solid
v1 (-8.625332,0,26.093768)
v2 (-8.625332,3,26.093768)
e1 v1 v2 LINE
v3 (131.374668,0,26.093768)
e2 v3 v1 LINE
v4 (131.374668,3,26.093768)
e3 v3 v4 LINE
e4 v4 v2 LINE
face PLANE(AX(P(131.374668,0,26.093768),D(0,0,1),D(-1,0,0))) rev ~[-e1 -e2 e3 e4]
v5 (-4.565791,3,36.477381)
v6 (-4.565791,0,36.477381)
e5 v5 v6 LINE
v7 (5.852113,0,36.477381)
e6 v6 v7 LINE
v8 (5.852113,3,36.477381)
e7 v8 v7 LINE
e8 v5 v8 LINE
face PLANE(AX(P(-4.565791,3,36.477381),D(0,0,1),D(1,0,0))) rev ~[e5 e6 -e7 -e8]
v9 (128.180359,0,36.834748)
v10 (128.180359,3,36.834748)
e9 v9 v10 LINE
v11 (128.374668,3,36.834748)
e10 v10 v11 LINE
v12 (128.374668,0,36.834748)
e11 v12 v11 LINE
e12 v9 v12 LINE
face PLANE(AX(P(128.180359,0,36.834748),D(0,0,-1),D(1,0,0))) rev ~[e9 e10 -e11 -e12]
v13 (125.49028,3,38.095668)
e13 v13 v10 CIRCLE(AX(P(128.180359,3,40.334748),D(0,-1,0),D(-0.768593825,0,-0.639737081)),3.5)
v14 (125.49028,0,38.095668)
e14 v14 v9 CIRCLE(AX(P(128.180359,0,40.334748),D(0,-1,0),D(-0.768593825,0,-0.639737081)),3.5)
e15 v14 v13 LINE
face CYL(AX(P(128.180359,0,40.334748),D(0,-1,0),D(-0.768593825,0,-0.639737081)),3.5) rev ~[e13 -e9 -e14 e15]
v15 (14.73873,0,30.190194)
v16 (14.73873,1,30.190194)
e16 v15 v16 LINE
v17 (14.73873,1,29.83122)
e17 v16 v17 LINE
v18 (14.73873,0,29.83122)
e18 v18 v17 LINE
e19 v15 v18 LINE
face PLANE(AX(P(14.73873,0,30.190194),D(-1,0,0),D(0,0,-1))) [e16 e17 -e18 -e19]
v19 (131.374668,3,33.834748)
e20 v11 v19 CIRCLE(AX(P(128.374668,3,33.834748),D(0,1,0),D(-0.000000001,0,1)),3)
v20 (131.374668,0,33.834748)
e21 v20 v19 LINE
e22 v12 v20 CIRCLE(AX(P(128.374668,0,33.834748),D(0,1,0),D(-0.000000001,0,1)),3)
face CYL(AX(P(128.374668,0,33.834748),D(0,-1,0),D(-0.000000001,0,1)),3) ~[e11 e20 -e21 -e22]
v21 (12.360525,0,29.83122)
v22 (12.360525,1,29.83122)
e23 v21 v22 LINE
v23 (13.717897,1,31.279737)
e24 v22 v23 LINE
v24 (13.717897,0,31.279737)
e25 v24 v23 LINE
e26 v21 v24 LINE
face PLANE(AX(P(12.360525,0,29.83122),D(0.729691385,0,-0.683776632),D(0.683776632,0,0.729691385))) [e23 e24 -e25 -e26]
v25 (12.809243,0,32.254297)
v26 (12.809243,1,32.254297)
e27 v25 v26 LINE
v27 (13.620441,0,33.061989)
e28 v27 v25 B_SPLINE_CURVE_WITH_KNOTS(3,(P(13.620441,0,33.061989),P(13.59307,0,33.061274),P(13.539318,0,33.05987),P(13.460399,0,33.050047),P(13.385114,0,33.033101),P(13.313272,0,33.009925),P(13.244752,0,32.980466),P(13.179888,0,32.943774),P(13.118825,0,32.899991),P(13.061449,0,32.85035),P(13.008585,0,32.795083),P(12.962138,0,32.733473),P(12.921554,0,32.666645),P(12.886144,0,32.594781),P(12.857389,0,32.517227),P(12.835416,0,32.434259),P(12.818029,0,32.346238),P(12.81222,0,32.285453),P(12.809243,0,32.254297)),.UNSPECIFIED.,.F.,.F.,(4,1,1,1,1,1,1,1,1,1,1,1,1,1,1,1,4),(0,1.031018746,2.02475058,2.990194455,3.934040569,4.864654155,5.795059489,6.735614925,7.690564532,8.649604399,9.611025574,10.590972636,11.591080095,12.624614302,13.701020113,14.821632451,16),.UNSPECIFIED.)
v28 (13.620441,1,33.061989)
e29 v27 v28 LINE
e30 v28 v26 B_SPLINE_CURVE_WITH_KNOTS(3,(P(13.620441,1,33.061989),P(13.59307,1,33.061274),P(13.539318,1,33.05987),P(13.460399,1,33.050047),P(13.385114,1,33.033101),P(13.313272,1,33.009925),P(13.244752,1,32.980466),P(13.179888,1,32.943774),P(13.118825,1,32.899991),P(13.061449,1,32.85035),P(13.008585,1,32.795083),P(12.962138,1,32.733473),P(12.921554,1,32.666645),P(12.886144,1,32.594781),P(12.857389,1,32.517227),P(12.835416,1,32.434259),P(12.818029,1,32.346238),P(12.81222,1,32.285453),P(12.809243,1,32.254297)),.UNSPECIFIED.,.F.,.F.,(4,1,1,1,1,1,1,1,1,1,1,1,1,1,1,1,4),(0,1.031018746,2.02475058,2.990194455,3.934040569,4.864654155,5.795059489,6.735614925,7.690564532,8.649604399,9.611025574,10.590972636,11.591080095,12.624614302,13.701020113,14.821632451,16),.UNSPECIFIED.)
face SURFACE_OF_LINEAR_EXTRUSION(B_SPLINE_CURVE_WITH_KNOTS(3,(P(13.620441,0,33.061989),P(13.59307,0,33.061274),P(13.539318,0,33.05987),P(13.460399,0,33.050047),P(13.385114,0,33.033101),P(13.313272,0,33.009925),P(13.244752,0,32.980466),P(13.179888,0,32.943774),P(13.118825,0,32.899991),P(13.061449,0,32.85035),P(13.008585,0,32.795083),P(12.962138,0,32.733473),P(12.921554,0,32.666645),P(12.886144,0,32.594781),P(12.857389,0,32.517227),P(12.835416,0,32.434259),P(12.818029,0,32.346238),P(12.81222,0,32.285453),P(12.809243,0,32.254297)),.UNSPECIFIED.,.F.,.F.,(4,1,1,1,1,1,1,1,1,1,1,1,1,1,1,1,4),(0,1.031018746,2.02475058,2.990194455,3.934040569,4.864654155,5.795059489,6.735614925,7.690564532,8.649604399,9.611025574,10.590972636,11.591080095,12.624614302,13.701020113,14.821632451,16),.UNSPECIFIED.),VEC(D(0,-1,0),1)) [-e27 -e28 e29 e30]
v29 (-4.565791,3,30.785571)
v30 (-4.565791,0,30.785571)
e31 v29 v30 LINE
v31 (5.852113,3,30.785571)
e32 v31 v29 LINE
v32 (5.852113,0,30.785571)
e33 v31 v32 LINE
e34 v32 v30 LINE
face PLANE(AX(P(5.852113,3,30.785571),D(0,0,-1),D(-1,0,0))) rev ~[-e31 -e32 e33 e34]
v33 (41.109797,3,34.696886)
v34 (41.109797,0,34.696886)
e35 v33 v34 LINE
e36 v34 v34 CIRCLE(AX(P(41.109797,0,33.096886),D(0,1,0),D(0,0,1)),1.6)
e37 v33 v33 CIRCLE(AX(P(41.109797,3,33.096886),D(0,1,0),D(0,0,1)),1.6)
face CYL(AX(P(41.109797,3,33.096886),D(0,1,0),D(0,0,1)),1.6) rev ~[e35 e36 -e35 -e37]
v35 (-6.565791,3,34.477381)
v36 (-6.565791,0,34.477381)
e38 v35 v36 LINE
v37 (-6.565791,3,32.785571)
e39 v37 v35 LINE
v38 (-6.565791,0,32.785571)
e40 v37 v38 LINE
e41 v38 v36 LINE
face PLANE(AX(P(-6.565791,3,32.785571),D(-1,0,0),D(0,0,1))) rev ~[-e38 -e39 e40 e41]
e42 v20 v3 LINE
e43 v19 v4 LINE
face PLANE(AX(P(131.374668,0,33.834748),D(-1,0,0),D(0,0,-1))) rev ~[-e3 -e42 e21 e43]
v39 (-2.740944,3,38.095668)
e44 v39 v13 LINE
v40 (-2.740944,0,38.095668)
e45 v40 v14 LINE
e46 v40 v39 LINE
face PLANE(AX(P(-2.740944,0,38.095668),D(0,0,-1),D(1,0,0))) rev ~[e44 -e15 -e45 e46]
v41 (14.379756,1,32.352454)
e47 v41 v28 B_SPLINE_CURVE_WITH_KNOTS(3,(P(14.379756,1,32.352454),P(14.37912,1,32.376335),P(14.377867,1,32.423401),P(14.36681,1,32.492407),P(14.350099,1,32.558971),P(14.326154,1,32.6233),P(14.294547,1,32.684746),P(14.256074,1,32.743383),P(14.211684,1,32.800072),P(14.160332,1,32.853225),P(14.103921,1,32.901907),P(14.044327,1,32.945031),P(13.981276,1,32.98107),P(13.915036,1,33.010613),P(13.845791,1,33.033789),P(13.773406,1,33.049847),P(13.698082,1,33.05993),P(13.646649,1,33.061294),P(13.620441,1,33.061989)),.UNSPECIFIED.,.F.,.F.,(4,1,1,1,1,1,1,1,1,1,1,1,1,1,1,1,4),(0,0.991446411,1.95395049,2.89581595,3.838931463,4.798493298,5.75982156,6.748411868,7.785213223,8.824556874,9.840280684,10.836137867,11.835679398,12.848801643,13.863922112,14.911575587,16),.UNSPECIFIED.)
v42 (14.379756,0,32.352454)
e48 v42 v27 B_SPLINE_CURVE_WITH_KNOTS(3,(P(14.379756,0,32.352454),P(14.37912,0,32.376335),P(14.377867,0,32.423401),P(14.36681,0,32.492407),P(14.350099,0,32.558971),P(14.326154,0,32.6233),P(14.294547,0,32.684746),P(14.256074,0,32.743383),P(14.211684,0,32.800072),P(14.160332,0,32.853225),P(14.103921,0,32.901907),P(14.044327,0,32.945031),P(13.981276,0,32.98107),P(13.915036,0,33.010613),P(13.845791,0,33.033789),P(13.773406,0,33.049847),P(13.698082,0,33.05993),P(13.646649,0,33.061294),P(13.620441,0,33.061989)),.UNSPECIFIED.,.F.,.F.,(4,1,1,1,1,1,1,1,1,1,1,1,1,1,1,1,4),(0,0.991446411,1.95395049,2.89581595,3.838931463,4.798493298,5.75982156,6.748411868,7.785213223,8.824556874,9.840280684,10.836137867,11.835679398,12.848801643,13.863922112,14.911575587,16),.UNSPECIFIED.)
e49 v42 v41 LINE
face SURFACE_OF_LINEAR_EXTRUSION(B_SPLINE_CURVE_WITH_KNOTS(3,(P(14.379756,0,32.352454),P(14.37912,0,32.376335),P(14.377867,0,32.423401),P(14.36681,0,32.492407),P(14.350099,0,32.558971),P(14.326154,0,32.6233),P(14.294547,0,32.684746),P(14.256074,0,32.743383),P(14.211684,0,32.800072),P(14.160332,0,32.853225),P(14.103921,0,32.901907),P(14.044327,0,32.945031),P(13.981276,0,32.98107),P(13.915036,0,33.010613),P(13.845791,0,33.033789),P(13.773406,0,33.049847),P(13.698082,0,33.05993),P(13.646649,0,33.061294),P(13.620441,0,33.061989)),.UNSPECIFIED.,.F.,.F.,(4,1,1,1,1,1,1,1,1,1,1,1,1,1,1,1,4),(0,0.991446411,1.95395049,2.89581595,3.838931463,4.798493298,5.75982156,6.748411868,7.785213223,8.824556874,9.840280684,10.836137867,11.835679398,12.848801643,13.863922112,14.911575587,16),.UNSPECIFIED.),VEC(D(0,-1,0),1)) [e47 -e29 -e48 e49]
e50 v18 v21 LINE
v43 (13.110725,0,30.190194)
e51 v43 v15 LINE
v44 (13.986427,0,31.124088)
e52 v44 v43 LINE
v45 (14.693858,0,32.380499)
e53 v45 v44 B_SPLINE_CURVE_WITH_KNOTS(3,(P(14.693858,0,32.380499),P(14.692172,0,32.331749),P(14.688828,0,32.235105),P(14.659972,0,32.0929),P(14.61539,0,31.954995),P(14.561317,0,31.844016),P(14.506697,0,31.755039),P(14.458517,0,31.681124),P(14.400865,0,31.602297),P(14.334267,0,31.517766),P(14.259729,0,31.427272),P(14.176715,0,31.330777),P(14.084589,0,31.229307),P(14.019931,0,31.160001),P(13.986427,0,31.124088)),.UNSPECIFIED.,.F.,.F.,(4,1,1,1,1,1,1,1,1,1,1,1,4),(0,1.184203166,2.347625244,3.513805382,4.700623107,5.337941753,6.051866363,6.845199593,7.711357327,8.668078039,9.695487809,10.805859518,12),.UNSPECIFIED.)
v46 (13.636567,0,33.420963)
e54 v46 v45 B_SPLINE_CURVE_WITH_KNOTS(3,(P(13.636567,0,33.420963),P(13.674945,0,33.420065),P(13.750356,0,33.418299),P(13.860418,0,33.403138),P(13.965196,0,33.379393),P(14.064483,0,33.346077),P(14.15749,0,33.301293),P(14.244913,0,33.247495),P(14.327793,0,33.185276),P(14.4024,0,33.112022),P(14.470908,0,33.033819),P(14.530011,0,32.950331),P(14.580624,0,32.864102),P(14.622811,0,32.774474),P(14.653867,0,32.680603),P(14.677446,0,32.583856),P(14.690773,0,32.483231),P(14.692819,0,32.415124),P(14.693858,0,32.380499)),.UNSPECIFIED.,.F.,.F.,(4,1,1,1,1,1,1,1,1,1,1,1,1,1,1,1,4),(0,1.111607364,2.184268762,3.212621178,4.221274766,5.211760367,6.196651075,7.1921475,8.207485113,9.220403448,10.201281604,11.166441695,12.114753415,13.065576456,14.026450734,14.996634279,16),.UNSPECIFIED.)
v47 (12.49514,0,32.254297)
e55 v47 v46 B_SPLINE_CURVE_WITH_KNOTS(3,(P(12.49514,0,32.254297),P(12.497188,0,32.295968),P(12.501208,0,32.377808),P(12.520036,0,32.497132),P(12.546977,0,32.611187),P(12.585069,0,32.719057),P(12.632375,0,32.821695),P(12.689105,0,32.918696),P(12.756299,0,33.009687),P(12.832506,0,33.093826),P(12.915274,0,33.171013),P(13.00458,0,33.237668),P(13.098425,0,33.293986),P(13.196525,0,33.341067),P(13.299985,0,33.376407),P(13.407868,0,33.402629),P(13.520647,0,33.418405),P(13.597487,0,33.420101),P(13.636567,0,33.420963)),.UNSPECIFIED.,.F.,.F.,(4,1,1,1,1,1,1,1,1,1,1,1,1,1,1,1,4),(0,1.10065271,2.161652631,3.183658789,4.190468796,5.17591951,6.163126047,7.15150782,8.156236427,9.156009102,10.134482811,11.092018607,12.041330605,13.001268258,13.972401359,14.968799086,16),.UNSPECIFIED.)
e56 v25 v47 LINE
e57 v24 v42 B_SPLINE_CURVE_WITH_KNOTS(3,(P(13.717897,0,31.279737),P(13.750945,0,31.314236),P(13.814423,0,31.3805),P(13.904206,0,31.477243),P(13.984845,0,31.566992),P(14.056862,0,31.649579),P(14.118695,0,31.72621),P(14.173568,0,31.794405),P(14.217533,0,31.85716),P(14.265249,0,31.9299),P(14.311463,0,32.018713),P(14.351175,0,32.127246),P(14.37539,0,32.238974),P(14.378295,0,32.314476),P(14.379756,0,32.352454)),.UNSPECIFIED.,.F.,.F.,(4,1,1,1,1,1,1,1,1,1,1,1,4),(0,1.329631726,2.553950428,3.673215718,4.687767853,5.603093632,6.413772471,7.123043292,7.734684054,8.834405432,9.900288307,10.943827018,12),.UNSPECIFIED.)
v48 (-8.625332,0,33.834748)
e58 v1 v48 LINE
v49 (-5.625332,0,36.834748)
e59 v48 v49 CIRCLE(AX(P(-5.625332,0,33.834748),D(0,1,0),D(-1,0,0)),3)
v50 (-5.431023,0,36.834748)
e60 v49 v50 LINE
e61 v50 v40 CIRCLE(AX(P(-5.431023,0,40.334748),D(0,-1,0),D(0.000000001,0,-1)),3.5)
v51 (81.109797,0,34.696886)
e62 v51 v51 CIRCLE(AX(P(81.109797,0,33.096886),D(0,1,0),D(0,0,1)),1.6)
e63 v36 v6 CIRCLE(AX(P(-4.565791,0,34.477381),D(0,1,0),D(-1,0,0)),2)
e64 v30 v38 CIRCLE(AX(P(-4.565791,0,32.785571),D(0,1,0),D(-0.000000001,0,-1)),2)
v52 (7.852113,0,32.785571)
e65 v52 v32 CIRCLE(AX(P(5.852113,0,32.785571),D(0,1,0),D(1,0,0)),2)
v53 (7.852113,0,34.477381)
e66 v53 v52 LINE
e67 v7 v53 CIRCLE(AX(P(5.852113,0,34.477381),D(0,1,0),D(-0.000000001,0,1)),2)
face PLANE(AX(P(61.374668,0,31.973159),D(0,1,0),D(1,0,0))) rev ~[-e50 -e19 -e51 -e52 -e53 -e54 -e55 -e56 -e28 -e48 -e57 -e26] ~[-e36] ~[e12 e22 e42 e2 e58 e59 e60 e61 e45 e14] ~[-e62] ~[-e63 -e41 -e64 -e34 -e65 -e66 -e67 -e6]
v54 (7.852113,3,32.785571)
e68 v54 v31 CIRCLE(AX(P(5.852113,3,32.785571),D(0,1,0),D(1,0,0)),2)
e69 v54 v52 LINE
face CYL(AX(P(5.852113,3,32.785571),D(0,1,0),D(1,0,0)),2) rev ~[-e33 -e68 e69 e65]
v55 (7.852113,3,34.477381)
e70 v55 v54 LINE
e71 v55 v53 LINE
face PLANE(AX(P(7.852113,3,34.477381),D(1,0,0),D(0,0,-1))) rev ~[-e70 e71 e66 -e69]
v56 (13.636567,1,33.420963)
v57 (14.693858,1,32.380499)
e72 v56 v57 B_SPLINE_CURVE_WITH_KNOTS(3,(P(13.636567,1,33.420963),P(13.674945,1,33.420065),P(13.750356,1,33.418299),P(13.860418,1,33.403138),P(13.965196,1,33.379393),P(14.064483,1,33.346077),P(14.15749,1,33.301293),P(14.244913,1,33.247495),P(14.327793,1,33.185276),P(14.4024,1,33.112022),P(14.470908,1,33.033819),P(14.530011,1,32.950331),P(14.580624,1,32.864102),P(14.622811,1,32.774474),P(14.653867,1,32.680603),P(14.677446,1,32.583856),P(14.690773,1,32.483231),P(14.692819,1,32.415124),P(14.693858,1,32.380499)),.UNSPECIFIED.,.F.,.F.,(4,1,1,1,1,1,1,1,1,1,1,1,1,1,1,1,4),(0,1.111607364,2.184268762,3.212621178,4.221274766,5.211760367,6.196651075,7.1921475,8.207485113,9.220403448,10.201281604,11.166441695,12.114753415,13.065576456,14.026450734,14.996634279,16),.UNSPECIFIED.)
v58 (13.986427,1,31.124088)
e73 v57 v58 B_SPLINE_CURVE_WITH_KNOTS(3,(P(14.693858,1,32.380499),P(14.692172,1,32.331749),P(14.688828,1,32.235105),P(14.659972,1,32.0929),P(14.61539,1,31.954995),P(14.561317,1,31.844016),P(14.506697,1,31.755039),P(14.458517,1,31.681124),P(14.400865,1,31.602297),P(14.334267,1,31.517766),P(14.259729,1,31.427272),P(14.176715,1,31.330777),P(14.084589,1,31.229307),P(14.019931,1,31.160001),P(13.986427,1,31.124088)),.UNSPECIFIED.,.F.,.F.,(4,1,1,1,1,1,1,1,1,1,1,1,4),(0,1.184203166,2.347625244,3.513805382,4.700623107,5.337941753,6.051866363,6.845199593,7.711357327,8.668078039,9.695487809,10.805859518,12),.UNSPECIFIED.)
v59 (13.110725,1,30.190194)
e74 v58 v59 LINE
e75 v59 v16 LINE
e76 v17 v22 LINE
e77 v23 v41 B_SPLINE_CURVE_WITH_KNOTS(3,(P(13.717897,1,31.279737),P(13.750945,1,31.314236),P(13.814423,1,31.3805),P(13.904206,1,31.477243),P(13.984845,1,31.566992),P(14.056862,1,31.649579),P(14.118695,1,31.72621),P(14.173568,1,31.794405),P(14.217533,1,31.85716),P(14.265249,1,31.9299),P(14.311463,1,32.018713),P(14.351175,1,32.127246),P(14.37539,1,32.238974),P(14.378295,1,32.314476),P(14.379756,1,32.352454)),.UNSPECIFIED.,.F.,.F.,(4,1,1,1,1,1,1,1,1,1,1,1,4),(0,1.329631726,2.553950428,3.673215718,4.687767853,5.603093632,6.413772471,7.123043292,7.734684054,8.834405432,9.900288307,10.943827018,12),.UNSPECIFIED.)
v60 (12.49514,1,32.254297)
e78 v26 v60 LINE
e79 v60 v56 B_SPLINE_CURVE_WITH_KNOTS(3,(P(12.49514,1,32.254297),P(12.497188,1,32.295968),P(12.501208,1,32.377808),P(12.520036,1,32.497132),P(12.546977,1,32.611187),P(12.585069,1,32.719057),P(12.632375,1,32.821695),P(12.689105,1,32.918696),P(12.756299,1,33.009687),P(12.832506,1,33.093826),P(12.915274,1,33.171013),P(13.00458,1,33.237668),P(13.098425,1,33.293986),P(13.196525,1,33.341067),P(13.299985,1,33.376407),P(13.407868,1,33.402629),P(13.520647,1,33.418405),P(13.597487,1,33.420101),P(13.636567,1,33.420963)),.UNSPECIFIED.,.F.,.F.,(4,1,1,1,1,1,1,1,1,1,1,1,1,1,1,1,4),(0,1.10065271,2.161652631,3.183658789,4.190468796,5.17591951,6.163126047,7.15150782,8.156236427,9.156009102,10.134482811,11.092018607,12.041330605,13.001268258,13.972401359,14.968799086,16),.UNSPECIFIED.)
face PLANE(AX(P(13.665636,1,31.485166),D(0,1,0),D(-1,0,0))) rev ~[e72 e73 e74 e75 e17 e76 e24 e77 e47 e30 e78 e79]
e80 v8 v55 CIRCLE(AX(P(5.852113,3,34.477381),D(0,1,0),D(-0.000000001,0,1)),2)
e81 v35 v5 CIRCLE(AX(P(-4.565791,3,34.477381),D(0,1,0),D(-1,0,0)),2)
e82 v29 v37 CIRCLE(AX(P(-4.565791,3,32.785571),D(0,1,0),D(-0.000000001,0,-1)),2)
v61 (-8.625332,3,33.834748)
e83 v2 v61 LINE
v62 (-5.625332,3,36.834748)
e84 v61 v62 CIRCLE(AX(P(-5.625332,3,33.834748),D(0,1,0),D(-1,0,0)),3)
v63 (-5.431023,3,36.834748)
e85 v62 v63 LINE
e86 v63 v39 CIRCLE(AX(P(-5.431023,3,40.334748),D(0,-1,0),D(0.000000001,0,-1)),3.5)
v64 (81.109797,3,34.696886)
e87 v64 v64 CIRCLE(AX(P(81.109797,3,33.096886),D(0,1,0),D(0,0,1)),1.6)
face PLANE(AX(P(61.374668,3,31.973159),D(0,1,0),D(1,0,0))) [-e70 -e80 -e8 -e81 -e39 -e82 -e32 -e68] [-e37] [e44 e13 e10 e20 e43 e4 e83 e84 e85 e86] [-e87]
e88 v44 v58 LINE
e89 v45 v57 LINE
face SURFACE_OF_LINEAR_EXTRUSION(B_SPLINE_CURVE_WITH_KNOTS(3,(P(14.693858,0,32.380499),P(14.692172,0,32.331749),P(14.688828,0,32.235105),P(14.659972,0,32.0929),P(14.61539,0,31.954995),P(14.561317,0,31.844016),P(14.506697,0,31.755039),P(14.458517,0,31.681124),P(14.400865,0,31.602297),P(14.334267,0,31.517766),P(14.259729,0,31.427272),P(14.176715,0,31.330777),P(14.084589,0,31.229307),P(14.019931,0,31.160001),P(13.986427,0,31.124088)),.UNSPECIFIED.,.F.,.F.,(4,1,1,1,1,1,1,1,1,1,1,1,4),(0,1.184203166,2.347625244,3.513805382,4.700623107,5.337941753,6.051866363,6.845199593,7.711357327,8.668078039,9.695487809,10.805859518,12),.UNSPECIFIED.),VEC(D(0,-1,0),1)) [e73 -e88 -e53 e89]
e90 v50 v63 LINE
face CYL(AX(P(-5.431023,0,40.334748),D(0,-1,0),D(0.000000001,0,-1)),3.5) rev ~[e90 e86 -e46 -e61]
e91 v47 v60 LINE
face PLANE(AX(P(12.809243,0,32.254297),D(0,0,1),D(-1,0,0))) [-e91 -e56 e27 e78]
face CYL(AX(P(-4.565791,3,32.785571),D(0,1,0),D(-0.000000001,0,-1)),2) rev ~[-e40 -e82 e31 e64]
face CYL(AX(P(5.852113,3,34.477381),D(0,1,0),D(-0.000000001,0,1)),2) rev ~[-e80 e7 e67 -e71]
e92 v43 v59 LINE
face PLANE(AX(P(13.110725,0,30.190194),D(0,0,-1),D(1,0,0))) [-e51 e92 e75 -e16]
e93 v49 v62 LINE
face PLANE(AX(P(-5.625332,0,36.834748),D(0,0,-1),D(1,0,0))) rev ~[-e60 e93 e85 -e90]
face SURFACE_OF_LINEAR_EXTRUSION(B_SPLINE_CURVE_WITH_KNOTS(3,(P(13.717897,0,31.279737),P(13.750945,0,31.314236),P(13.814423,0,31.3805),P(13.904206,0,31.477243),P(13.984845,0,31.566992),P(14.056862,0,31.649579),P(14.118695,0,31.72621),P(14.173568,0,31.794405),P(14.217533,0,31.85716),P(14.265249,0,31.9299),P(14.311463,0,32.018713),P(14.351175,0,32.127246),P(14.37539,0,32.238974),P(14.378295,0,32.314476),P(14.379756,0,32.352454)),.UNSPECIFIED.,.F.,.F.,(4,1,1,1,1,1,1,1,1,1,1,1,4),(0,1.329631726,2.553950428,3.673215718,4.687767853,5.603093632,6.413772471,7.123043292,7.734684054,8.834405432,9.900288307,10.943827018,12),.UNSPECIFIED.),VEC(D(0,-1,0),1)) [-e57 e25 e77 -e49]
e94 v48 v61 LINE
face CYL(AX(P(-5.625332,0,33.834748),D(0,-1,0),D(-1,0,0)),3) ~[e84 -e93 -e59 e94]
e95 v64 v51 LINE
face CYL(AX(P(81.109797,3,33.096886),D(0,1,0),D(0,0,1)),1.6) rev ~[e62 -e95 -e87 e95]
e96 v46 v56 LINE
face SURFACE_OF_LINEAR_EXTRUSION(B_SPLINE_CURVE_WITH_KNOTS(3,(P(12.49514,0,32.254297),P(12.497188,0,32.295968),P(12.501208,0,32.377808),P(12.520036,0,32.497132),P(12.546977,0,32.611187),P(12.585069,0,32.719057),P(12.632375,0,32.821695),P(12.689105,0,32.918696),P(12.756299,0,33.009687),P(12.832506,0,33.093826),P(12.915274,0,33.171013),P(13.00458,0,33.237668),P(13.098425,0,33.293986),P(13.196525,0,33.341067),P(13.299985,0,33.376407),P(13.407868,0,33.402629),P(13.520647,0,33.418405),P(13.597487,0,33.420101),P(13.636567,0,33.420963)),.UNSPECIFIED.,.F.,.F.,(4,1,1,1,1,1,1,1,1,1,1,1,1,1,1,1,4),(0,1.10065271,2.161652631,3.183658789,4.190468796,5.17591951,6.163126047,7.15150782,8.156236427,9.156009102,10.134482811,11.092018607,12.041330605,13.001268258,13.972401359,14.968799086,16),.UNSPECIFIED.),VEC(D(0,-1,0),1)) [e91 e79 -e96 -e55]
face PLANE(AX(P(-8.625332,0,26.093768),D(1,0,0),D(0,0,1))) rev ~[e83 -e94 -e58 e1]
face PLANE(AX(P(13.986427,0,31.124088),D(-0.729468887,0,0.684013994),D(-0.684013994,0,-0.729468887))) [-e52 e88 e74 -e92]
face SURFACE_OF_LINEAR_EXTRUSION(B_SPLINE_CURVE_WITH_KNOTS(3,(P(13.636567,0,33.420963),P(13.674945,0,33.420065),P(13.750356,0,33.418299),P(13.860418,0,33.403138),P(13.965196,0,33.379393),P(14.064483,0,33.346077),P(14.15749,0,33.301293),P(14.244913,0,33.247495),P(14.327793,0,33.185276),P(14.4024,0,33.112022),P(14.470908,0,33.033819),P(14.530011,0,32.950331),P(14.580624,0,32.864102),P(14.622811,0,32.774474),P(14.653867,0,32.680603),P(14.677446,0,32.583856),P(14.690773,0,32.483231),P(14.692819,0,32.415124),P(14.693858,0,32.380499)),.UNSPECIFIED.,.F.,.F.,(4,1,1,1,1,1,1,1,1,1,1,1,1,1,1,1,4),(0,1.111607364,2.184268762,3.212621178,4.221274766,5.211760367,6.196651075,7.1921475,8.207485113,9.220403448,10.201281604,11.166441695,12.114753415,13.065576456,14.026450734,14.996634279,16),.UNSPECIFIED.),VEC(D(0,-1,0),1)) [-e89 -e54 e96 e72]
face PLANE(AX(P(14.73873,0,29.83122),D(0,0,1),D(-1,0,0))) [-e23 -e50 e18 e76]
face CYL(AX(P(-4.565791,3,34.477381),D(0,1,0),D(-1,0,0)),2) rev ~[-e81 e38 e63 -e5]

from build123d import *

# Parameters (mm, degrees)
BOSS_EXTRUDE1_DEPTH = 3
CUT_EXTRUDE1_REACH  = 138.82
CUT_EXTRUDE2_DEPTH  = 1
CUT_EXTRUDE3_DEPTH  = 3


with BuildPart() as part:
    # Sketch3 → Boss-Extrude1 (new body)
    with BuildSketch(Plane(origin=(0, 0, 0), x_dir=(1, 0, 0), z_dir=(0, 1, 0))):
        with BuildLine():
            Line((131.37466785, -33.834747513), (131.37466785, -26.093767651))
            Line((131.37466785, -26.093767651), (-8.62533215, -26.093767651))
            Line((-8.62533215, -26.093767651), (-8.62533215, -33.834747513))
            ThreePointArc((-8.62533215, -33.834747513), (-7.746652493, -35.956067857), (-5.62533215, -36.834747513))
            Line((-5.62533215, -36.834747513), (-5.431022837, -36.834747513))
            ThreePointArc((-5.431022837, -36.834747513), (-3.945556452, -37.165616778), (-2.74094445, -38.095667731))
            Line((-2.74094445, -38.095667731), (125.49028015, -38.095667731))
            ThreePointArc((125.49028015, -38.095667731), (126.694892152, -37.165616778), (128.180358538, -36.834747513))
            Line((128.180358538, -36.834747513), (128.37466785, -36.834747513))
            ThreePointArc((128.37466785, -36.834747513), (130.495988194, -35.956067857), (131.37466785, -33.834747513))
        make_face()
    extrude(amount=BOSS_EXTRUDE1_DEPTH)

    # Sketch4 → Cut-Extrude1 (cut, up to next)
    with BuildSketch(Plane(origin=(0, 3, 0), x_dir=(1, 0, 0), z_dir=(0, 1, 0)), mode=Mode.PRIVATE) as cut_extrude1_sk1:
        with BuildLine():
            ThreePointArc((81.109797099, -31.496885933), (79.509797099, -33.096885933), (81.109797099, -34.696885933))
            ThreePointArc((81.109797099, -34.696885933), (82.709797099, -33.096885933), (81.109797099, -31.496885933))
        make_face()
    cut_extrude1_tool1 = extrude(cut_extrude1_sk1.sketch, amount=-CUT_EXTRUDE1_REACH, mode=Mode.PRIVATE) & part.part
    # Sketch4 → Cut-Extrude1 (cut, up to next)
    with BuildSketch(Plane(origin=(0, 3, 0), x_dir=(1, 0, 0), z_dir=(0, 1, 0)), mode=Mode.PRIVATE) as cut_extrude1_sk2:
        with BuildLine():
            ThreePointArc((41.109797099, -31.496885933), (39.509797099, -33.096885933), (41.109797099, -34.696885933))
            ThreePointArc((41.109797099, -34.696885933), (42.709797099, -33.096885933), (41.109797099, -31.496885933))
        make_face()
    cut_extrude1_tool2 = extrude(cut_extrude1_sk2.sketch, amount=-CUT_EXTRUDE1_REACH, mode=Mode.PRIVATE) & part.part
    add(cut_extrude1_tool1.solids().sort_by_distance((81.109797, 3, 33.096886))[0], mode=Mode.SUBTRACT)
    add(cut_extrude1_tool2.solids().sort_by_distance((41.109797, 3, 33.096886))[0], mode=Mode.SUBTRACT)

    # Sketch5 → Cut-Extrude2 (cut)
    with BuildSketch(Plane.XZ):
        with BuildLine():
            Line((12.809243061, 32.25429666), (12.495140497, 32.25429666))
            add(Edge.make_bspline(
                [(12.495140497, 32.25429666), (12.49718765, 32.295967547), (12.501208204, 32.377808062), (12.520036494, 32.497131968), (12.546977371, 32.611186767), (12.585068825, 32.719056681), (12.632375103, 32.821695488), (12.68910513, 32.918695504), (12.75629898, 33.009686693), (12.832505715, 33.093825536), (12.915274354, 33.171013107), (13.004580293, 33.23766835), (13.09842532, 33.293986021), (13.196524719, 33.341067263), (13.299985283, 33.376407109), (13.407868141, 33.402628748), (13.520647277, 33.418405094), (13.597487299, 33.42010088), (13.636566779, 33.420963326)],
                knots=[0, 0, 0, 0, 1.10065271, 2.161652631, 3.183658789, 4.190468796, 5.17591951, 6.163126047, 7.15150782, 8.156236427, 9.156009102, 10.134482811, 11.092018607, 12.041330605, 13.001268258, 13.972401359, 14.968799086, 16, 16, 16, 16], degree=3))
            add(Edge.make_bspline(
                [(13.636566779, 33.420963326), (13.674944853, 33.42006487), (13.750356398, 33.418299435), (13.860418413, 33.403138406), (13.965195707, 33.379392814), (14.064483474, 33.346077398), (14.157489538, 33.30129297), (14.244912583, 33.247495432), (14.327793393, 33.1852756), (14.402400177, 33.112021787), (14.470908256, 33.033819402), (14.530010511, 32.950331499), (14.580623675, 32.864102213), (14.622811355, 32.774474012), (14.653867494, 32.680602983), (14.677445702, 32.58385578), (14.690773115, 32.483230969), (14.692818539, 32.415124414), (14.693858446, 32.380498583)],
                knots=[0, 0, 0, 0, 1.111607364, 2.184268762, 3.212621178, 4.221274766, 5.211760367, 6.196651075, 7.1921475, 8.207485113, 9.220403448, 10.201281604, 11.166441695, 12.114753415, 13.065576456, 14.026450734, 14.996634279, 16, 16, 16, 16], degree=3))
            add(Edge.make_bspline(
                [(14.693858446, 32.380498583), (14.692171801, 32.331748773), (14.688828109, 32.235104645), (14.659972407, 32.092900288), (14.61539031, 31.954995228), (14.561317281, 31.844016176), (14.506696713, 31.755039283), (14.458516917, 31.681123642), (14.400864565, 31.602297225), (14.334267151, 31.517766116), (14.259729345, 31.427271746), (14.176714677, 31.33077698), (14.084588987, 31.229306675), (14.019930805, 31.160000862), (13.986426555, 31.124088326)],
                knots=[0, 0, 0, 0, 1.184203166, 2.347625244, 3.513805382, 4.700623107, 5.337941753, 6.051866363, 6.845199593, 7.711357327, 8.668078039, 9.695487809, 10.805859518, 12, 12, 12, 12], degree=3))
            Line((13.986426555, 31.124088326), (13.110725433, 30.190194095))
            Line((13.110725433, 30.190194095), (14.738730241, 30.190194095))
            Line((14.738730241, 30.190194095), (14.738730241, 29.831219737))
            Line((14.738730241, 29.831219737), (12.360525113, 29.831219737))
            Line((12.360525113, 29.831219737), (13.717896908, 31.279737365))
            add(Edge.make_bspline(
                [(13.717896908, 31.279737365), (13.750944794, 31.314235671), (13.814423021, 31.380499858), (13.904205598, 31.477242818), (13.984844587, 31.566992359), (14.056861979, 31.649578907), (14.118695485, 31.726210475), (14.173567717, 31.794405179), (14.217533308, 31.857159629), (14.265248703, 31.929900243), (14.311462685, 32.01871256), (14.351175041, 32.127246249), (14.375389889, 32.238973502), (14.378294725, 32.314475539), (14.379755882, 32.352453711)],
                knots=[0, 0, 0, 0, 1.329631726, 2.553950428, 3.673215718, 4.687767853, 5.603093632, 6.413772471, 7.123043292, 7.734684054, 8.834405432, 9.900288307, 10.943827018, 12, 12, 12, 12], degree=3))
            add(Edge.make_bspline(
                [(14.379755882, 32.352453711), (14.37912014, 32.376335109), (14.377867214, 32.42340076), (14.366809516, 32.492406519), (14.35009901, 32.558971332), (14.326153752, 32.623299952), (14.294547012, 32.684745604), (14.256073632, 32.743383084), (14.211683569, 32.800072049), (14.160332299, 32.853225347), (14.103920779, 32.901906553), (14.04432653, 32.945030638), (13.981276426, 32.981069749), (13.915036303, 33.010613246), (13.845790834, 33.033788627), (13.773406089, 33.049847207), (13.698082073, 33.059929691), (13.646648577, 33.061293862), (13.620440978, 33.061988967)],
                knots=[0, 0, 0, 0, 0.991446411, 1.95395049, 2.89581595, 3.838931463, 4.798493298, 5.75982156, 6.748411868, 7.785213223, 8.824556874, 9.840280684, 10.836137867, 11.835679398, 12.848801643, 13.863922112, 14.911575587, 16, 16, 16, 16], degree=3))
            add(Edge.make_bspline(
                [(13.620440978, 33.061988967), (13.593070145, 33.061273935), (13.539318349, 33.05986973), (13.460399316, 33.050047066), (13.385113539, 33.033101225), (13.313271636, 33.009924551), (13.24475205, 32.980466002), (13.179888006, 32.943774257), (13.118825117, 32.899990764), (13.061448593, 32.850350208), (13.008584614, 32.795082607), (12.962137738, 32.733472644), (12.921553724, 32.666645228), (12.886144491, 32.594780678), (12.857388801, 32.517226898), (12.83541565, 32.434259193), (12.818028803, 32.346237811), (12.812220283, 32.285452727), (12.809243061, 32.25429666)],
                knots=[0, 0, 0, 0, 1.031018746, 2.02475058, 2.990194455, 3.934040569, 4.864654155, 5.795059489, 6.735614925, 7.690564532, 8.649604399, 9.611025574, 10.590972636, 11.591080095, 12.624614302, 13.701020113, 14.821632451, 16, 16, 16, 16], degree=3))
        make_face()
    extrude(amount=-CUT_EXTRUDE2_DEPTH, mode=Mode.SUBTRACT)

    # Sketch6 → Cut-Extrude3 (cut)
    with BuildSketch(Plane(origin=(0, 3, 0), x_dir=(1, 0, 0), z_dir=(0, 1, 0))):
        with BuildLine():
            Line((5.852113338, -30.785571201), (-4.565790678, -30.785571201))
            ThreePointArc((-4.565790678, -30.785571201), (-5.98000424, -31.371357639), (-6.565790678, -32.785571201))
            Line((-6.565790678, -32.785571201), (-6.565790678, -34.477380503))
            ThreePointArc((-6.565790678, -34.477380503), (-5.98000424, -35.891594066), (-4.565790678, -36.477380503))
            Line((-4.565790678, -36.477380503), (5.852113338, -36.477380503))
            ThreePointArc((5.852113338, -36.477380503), (7.266326901, -35.891594066), (7.852113338, -34.477380503))
            Line((7.852113338, -34.477380503), (7.852113338, -32.785571201))
            ThreePointArc((7.852113338, -32.785571201), (7.266326901, -31.371357639), (5.852113338, -30.785571201))
        make_face()
    extrude(amount=-CUT_EXTRUDE3_DEPTH, mode=Mode.SUBTRACT)


solid = part.part
